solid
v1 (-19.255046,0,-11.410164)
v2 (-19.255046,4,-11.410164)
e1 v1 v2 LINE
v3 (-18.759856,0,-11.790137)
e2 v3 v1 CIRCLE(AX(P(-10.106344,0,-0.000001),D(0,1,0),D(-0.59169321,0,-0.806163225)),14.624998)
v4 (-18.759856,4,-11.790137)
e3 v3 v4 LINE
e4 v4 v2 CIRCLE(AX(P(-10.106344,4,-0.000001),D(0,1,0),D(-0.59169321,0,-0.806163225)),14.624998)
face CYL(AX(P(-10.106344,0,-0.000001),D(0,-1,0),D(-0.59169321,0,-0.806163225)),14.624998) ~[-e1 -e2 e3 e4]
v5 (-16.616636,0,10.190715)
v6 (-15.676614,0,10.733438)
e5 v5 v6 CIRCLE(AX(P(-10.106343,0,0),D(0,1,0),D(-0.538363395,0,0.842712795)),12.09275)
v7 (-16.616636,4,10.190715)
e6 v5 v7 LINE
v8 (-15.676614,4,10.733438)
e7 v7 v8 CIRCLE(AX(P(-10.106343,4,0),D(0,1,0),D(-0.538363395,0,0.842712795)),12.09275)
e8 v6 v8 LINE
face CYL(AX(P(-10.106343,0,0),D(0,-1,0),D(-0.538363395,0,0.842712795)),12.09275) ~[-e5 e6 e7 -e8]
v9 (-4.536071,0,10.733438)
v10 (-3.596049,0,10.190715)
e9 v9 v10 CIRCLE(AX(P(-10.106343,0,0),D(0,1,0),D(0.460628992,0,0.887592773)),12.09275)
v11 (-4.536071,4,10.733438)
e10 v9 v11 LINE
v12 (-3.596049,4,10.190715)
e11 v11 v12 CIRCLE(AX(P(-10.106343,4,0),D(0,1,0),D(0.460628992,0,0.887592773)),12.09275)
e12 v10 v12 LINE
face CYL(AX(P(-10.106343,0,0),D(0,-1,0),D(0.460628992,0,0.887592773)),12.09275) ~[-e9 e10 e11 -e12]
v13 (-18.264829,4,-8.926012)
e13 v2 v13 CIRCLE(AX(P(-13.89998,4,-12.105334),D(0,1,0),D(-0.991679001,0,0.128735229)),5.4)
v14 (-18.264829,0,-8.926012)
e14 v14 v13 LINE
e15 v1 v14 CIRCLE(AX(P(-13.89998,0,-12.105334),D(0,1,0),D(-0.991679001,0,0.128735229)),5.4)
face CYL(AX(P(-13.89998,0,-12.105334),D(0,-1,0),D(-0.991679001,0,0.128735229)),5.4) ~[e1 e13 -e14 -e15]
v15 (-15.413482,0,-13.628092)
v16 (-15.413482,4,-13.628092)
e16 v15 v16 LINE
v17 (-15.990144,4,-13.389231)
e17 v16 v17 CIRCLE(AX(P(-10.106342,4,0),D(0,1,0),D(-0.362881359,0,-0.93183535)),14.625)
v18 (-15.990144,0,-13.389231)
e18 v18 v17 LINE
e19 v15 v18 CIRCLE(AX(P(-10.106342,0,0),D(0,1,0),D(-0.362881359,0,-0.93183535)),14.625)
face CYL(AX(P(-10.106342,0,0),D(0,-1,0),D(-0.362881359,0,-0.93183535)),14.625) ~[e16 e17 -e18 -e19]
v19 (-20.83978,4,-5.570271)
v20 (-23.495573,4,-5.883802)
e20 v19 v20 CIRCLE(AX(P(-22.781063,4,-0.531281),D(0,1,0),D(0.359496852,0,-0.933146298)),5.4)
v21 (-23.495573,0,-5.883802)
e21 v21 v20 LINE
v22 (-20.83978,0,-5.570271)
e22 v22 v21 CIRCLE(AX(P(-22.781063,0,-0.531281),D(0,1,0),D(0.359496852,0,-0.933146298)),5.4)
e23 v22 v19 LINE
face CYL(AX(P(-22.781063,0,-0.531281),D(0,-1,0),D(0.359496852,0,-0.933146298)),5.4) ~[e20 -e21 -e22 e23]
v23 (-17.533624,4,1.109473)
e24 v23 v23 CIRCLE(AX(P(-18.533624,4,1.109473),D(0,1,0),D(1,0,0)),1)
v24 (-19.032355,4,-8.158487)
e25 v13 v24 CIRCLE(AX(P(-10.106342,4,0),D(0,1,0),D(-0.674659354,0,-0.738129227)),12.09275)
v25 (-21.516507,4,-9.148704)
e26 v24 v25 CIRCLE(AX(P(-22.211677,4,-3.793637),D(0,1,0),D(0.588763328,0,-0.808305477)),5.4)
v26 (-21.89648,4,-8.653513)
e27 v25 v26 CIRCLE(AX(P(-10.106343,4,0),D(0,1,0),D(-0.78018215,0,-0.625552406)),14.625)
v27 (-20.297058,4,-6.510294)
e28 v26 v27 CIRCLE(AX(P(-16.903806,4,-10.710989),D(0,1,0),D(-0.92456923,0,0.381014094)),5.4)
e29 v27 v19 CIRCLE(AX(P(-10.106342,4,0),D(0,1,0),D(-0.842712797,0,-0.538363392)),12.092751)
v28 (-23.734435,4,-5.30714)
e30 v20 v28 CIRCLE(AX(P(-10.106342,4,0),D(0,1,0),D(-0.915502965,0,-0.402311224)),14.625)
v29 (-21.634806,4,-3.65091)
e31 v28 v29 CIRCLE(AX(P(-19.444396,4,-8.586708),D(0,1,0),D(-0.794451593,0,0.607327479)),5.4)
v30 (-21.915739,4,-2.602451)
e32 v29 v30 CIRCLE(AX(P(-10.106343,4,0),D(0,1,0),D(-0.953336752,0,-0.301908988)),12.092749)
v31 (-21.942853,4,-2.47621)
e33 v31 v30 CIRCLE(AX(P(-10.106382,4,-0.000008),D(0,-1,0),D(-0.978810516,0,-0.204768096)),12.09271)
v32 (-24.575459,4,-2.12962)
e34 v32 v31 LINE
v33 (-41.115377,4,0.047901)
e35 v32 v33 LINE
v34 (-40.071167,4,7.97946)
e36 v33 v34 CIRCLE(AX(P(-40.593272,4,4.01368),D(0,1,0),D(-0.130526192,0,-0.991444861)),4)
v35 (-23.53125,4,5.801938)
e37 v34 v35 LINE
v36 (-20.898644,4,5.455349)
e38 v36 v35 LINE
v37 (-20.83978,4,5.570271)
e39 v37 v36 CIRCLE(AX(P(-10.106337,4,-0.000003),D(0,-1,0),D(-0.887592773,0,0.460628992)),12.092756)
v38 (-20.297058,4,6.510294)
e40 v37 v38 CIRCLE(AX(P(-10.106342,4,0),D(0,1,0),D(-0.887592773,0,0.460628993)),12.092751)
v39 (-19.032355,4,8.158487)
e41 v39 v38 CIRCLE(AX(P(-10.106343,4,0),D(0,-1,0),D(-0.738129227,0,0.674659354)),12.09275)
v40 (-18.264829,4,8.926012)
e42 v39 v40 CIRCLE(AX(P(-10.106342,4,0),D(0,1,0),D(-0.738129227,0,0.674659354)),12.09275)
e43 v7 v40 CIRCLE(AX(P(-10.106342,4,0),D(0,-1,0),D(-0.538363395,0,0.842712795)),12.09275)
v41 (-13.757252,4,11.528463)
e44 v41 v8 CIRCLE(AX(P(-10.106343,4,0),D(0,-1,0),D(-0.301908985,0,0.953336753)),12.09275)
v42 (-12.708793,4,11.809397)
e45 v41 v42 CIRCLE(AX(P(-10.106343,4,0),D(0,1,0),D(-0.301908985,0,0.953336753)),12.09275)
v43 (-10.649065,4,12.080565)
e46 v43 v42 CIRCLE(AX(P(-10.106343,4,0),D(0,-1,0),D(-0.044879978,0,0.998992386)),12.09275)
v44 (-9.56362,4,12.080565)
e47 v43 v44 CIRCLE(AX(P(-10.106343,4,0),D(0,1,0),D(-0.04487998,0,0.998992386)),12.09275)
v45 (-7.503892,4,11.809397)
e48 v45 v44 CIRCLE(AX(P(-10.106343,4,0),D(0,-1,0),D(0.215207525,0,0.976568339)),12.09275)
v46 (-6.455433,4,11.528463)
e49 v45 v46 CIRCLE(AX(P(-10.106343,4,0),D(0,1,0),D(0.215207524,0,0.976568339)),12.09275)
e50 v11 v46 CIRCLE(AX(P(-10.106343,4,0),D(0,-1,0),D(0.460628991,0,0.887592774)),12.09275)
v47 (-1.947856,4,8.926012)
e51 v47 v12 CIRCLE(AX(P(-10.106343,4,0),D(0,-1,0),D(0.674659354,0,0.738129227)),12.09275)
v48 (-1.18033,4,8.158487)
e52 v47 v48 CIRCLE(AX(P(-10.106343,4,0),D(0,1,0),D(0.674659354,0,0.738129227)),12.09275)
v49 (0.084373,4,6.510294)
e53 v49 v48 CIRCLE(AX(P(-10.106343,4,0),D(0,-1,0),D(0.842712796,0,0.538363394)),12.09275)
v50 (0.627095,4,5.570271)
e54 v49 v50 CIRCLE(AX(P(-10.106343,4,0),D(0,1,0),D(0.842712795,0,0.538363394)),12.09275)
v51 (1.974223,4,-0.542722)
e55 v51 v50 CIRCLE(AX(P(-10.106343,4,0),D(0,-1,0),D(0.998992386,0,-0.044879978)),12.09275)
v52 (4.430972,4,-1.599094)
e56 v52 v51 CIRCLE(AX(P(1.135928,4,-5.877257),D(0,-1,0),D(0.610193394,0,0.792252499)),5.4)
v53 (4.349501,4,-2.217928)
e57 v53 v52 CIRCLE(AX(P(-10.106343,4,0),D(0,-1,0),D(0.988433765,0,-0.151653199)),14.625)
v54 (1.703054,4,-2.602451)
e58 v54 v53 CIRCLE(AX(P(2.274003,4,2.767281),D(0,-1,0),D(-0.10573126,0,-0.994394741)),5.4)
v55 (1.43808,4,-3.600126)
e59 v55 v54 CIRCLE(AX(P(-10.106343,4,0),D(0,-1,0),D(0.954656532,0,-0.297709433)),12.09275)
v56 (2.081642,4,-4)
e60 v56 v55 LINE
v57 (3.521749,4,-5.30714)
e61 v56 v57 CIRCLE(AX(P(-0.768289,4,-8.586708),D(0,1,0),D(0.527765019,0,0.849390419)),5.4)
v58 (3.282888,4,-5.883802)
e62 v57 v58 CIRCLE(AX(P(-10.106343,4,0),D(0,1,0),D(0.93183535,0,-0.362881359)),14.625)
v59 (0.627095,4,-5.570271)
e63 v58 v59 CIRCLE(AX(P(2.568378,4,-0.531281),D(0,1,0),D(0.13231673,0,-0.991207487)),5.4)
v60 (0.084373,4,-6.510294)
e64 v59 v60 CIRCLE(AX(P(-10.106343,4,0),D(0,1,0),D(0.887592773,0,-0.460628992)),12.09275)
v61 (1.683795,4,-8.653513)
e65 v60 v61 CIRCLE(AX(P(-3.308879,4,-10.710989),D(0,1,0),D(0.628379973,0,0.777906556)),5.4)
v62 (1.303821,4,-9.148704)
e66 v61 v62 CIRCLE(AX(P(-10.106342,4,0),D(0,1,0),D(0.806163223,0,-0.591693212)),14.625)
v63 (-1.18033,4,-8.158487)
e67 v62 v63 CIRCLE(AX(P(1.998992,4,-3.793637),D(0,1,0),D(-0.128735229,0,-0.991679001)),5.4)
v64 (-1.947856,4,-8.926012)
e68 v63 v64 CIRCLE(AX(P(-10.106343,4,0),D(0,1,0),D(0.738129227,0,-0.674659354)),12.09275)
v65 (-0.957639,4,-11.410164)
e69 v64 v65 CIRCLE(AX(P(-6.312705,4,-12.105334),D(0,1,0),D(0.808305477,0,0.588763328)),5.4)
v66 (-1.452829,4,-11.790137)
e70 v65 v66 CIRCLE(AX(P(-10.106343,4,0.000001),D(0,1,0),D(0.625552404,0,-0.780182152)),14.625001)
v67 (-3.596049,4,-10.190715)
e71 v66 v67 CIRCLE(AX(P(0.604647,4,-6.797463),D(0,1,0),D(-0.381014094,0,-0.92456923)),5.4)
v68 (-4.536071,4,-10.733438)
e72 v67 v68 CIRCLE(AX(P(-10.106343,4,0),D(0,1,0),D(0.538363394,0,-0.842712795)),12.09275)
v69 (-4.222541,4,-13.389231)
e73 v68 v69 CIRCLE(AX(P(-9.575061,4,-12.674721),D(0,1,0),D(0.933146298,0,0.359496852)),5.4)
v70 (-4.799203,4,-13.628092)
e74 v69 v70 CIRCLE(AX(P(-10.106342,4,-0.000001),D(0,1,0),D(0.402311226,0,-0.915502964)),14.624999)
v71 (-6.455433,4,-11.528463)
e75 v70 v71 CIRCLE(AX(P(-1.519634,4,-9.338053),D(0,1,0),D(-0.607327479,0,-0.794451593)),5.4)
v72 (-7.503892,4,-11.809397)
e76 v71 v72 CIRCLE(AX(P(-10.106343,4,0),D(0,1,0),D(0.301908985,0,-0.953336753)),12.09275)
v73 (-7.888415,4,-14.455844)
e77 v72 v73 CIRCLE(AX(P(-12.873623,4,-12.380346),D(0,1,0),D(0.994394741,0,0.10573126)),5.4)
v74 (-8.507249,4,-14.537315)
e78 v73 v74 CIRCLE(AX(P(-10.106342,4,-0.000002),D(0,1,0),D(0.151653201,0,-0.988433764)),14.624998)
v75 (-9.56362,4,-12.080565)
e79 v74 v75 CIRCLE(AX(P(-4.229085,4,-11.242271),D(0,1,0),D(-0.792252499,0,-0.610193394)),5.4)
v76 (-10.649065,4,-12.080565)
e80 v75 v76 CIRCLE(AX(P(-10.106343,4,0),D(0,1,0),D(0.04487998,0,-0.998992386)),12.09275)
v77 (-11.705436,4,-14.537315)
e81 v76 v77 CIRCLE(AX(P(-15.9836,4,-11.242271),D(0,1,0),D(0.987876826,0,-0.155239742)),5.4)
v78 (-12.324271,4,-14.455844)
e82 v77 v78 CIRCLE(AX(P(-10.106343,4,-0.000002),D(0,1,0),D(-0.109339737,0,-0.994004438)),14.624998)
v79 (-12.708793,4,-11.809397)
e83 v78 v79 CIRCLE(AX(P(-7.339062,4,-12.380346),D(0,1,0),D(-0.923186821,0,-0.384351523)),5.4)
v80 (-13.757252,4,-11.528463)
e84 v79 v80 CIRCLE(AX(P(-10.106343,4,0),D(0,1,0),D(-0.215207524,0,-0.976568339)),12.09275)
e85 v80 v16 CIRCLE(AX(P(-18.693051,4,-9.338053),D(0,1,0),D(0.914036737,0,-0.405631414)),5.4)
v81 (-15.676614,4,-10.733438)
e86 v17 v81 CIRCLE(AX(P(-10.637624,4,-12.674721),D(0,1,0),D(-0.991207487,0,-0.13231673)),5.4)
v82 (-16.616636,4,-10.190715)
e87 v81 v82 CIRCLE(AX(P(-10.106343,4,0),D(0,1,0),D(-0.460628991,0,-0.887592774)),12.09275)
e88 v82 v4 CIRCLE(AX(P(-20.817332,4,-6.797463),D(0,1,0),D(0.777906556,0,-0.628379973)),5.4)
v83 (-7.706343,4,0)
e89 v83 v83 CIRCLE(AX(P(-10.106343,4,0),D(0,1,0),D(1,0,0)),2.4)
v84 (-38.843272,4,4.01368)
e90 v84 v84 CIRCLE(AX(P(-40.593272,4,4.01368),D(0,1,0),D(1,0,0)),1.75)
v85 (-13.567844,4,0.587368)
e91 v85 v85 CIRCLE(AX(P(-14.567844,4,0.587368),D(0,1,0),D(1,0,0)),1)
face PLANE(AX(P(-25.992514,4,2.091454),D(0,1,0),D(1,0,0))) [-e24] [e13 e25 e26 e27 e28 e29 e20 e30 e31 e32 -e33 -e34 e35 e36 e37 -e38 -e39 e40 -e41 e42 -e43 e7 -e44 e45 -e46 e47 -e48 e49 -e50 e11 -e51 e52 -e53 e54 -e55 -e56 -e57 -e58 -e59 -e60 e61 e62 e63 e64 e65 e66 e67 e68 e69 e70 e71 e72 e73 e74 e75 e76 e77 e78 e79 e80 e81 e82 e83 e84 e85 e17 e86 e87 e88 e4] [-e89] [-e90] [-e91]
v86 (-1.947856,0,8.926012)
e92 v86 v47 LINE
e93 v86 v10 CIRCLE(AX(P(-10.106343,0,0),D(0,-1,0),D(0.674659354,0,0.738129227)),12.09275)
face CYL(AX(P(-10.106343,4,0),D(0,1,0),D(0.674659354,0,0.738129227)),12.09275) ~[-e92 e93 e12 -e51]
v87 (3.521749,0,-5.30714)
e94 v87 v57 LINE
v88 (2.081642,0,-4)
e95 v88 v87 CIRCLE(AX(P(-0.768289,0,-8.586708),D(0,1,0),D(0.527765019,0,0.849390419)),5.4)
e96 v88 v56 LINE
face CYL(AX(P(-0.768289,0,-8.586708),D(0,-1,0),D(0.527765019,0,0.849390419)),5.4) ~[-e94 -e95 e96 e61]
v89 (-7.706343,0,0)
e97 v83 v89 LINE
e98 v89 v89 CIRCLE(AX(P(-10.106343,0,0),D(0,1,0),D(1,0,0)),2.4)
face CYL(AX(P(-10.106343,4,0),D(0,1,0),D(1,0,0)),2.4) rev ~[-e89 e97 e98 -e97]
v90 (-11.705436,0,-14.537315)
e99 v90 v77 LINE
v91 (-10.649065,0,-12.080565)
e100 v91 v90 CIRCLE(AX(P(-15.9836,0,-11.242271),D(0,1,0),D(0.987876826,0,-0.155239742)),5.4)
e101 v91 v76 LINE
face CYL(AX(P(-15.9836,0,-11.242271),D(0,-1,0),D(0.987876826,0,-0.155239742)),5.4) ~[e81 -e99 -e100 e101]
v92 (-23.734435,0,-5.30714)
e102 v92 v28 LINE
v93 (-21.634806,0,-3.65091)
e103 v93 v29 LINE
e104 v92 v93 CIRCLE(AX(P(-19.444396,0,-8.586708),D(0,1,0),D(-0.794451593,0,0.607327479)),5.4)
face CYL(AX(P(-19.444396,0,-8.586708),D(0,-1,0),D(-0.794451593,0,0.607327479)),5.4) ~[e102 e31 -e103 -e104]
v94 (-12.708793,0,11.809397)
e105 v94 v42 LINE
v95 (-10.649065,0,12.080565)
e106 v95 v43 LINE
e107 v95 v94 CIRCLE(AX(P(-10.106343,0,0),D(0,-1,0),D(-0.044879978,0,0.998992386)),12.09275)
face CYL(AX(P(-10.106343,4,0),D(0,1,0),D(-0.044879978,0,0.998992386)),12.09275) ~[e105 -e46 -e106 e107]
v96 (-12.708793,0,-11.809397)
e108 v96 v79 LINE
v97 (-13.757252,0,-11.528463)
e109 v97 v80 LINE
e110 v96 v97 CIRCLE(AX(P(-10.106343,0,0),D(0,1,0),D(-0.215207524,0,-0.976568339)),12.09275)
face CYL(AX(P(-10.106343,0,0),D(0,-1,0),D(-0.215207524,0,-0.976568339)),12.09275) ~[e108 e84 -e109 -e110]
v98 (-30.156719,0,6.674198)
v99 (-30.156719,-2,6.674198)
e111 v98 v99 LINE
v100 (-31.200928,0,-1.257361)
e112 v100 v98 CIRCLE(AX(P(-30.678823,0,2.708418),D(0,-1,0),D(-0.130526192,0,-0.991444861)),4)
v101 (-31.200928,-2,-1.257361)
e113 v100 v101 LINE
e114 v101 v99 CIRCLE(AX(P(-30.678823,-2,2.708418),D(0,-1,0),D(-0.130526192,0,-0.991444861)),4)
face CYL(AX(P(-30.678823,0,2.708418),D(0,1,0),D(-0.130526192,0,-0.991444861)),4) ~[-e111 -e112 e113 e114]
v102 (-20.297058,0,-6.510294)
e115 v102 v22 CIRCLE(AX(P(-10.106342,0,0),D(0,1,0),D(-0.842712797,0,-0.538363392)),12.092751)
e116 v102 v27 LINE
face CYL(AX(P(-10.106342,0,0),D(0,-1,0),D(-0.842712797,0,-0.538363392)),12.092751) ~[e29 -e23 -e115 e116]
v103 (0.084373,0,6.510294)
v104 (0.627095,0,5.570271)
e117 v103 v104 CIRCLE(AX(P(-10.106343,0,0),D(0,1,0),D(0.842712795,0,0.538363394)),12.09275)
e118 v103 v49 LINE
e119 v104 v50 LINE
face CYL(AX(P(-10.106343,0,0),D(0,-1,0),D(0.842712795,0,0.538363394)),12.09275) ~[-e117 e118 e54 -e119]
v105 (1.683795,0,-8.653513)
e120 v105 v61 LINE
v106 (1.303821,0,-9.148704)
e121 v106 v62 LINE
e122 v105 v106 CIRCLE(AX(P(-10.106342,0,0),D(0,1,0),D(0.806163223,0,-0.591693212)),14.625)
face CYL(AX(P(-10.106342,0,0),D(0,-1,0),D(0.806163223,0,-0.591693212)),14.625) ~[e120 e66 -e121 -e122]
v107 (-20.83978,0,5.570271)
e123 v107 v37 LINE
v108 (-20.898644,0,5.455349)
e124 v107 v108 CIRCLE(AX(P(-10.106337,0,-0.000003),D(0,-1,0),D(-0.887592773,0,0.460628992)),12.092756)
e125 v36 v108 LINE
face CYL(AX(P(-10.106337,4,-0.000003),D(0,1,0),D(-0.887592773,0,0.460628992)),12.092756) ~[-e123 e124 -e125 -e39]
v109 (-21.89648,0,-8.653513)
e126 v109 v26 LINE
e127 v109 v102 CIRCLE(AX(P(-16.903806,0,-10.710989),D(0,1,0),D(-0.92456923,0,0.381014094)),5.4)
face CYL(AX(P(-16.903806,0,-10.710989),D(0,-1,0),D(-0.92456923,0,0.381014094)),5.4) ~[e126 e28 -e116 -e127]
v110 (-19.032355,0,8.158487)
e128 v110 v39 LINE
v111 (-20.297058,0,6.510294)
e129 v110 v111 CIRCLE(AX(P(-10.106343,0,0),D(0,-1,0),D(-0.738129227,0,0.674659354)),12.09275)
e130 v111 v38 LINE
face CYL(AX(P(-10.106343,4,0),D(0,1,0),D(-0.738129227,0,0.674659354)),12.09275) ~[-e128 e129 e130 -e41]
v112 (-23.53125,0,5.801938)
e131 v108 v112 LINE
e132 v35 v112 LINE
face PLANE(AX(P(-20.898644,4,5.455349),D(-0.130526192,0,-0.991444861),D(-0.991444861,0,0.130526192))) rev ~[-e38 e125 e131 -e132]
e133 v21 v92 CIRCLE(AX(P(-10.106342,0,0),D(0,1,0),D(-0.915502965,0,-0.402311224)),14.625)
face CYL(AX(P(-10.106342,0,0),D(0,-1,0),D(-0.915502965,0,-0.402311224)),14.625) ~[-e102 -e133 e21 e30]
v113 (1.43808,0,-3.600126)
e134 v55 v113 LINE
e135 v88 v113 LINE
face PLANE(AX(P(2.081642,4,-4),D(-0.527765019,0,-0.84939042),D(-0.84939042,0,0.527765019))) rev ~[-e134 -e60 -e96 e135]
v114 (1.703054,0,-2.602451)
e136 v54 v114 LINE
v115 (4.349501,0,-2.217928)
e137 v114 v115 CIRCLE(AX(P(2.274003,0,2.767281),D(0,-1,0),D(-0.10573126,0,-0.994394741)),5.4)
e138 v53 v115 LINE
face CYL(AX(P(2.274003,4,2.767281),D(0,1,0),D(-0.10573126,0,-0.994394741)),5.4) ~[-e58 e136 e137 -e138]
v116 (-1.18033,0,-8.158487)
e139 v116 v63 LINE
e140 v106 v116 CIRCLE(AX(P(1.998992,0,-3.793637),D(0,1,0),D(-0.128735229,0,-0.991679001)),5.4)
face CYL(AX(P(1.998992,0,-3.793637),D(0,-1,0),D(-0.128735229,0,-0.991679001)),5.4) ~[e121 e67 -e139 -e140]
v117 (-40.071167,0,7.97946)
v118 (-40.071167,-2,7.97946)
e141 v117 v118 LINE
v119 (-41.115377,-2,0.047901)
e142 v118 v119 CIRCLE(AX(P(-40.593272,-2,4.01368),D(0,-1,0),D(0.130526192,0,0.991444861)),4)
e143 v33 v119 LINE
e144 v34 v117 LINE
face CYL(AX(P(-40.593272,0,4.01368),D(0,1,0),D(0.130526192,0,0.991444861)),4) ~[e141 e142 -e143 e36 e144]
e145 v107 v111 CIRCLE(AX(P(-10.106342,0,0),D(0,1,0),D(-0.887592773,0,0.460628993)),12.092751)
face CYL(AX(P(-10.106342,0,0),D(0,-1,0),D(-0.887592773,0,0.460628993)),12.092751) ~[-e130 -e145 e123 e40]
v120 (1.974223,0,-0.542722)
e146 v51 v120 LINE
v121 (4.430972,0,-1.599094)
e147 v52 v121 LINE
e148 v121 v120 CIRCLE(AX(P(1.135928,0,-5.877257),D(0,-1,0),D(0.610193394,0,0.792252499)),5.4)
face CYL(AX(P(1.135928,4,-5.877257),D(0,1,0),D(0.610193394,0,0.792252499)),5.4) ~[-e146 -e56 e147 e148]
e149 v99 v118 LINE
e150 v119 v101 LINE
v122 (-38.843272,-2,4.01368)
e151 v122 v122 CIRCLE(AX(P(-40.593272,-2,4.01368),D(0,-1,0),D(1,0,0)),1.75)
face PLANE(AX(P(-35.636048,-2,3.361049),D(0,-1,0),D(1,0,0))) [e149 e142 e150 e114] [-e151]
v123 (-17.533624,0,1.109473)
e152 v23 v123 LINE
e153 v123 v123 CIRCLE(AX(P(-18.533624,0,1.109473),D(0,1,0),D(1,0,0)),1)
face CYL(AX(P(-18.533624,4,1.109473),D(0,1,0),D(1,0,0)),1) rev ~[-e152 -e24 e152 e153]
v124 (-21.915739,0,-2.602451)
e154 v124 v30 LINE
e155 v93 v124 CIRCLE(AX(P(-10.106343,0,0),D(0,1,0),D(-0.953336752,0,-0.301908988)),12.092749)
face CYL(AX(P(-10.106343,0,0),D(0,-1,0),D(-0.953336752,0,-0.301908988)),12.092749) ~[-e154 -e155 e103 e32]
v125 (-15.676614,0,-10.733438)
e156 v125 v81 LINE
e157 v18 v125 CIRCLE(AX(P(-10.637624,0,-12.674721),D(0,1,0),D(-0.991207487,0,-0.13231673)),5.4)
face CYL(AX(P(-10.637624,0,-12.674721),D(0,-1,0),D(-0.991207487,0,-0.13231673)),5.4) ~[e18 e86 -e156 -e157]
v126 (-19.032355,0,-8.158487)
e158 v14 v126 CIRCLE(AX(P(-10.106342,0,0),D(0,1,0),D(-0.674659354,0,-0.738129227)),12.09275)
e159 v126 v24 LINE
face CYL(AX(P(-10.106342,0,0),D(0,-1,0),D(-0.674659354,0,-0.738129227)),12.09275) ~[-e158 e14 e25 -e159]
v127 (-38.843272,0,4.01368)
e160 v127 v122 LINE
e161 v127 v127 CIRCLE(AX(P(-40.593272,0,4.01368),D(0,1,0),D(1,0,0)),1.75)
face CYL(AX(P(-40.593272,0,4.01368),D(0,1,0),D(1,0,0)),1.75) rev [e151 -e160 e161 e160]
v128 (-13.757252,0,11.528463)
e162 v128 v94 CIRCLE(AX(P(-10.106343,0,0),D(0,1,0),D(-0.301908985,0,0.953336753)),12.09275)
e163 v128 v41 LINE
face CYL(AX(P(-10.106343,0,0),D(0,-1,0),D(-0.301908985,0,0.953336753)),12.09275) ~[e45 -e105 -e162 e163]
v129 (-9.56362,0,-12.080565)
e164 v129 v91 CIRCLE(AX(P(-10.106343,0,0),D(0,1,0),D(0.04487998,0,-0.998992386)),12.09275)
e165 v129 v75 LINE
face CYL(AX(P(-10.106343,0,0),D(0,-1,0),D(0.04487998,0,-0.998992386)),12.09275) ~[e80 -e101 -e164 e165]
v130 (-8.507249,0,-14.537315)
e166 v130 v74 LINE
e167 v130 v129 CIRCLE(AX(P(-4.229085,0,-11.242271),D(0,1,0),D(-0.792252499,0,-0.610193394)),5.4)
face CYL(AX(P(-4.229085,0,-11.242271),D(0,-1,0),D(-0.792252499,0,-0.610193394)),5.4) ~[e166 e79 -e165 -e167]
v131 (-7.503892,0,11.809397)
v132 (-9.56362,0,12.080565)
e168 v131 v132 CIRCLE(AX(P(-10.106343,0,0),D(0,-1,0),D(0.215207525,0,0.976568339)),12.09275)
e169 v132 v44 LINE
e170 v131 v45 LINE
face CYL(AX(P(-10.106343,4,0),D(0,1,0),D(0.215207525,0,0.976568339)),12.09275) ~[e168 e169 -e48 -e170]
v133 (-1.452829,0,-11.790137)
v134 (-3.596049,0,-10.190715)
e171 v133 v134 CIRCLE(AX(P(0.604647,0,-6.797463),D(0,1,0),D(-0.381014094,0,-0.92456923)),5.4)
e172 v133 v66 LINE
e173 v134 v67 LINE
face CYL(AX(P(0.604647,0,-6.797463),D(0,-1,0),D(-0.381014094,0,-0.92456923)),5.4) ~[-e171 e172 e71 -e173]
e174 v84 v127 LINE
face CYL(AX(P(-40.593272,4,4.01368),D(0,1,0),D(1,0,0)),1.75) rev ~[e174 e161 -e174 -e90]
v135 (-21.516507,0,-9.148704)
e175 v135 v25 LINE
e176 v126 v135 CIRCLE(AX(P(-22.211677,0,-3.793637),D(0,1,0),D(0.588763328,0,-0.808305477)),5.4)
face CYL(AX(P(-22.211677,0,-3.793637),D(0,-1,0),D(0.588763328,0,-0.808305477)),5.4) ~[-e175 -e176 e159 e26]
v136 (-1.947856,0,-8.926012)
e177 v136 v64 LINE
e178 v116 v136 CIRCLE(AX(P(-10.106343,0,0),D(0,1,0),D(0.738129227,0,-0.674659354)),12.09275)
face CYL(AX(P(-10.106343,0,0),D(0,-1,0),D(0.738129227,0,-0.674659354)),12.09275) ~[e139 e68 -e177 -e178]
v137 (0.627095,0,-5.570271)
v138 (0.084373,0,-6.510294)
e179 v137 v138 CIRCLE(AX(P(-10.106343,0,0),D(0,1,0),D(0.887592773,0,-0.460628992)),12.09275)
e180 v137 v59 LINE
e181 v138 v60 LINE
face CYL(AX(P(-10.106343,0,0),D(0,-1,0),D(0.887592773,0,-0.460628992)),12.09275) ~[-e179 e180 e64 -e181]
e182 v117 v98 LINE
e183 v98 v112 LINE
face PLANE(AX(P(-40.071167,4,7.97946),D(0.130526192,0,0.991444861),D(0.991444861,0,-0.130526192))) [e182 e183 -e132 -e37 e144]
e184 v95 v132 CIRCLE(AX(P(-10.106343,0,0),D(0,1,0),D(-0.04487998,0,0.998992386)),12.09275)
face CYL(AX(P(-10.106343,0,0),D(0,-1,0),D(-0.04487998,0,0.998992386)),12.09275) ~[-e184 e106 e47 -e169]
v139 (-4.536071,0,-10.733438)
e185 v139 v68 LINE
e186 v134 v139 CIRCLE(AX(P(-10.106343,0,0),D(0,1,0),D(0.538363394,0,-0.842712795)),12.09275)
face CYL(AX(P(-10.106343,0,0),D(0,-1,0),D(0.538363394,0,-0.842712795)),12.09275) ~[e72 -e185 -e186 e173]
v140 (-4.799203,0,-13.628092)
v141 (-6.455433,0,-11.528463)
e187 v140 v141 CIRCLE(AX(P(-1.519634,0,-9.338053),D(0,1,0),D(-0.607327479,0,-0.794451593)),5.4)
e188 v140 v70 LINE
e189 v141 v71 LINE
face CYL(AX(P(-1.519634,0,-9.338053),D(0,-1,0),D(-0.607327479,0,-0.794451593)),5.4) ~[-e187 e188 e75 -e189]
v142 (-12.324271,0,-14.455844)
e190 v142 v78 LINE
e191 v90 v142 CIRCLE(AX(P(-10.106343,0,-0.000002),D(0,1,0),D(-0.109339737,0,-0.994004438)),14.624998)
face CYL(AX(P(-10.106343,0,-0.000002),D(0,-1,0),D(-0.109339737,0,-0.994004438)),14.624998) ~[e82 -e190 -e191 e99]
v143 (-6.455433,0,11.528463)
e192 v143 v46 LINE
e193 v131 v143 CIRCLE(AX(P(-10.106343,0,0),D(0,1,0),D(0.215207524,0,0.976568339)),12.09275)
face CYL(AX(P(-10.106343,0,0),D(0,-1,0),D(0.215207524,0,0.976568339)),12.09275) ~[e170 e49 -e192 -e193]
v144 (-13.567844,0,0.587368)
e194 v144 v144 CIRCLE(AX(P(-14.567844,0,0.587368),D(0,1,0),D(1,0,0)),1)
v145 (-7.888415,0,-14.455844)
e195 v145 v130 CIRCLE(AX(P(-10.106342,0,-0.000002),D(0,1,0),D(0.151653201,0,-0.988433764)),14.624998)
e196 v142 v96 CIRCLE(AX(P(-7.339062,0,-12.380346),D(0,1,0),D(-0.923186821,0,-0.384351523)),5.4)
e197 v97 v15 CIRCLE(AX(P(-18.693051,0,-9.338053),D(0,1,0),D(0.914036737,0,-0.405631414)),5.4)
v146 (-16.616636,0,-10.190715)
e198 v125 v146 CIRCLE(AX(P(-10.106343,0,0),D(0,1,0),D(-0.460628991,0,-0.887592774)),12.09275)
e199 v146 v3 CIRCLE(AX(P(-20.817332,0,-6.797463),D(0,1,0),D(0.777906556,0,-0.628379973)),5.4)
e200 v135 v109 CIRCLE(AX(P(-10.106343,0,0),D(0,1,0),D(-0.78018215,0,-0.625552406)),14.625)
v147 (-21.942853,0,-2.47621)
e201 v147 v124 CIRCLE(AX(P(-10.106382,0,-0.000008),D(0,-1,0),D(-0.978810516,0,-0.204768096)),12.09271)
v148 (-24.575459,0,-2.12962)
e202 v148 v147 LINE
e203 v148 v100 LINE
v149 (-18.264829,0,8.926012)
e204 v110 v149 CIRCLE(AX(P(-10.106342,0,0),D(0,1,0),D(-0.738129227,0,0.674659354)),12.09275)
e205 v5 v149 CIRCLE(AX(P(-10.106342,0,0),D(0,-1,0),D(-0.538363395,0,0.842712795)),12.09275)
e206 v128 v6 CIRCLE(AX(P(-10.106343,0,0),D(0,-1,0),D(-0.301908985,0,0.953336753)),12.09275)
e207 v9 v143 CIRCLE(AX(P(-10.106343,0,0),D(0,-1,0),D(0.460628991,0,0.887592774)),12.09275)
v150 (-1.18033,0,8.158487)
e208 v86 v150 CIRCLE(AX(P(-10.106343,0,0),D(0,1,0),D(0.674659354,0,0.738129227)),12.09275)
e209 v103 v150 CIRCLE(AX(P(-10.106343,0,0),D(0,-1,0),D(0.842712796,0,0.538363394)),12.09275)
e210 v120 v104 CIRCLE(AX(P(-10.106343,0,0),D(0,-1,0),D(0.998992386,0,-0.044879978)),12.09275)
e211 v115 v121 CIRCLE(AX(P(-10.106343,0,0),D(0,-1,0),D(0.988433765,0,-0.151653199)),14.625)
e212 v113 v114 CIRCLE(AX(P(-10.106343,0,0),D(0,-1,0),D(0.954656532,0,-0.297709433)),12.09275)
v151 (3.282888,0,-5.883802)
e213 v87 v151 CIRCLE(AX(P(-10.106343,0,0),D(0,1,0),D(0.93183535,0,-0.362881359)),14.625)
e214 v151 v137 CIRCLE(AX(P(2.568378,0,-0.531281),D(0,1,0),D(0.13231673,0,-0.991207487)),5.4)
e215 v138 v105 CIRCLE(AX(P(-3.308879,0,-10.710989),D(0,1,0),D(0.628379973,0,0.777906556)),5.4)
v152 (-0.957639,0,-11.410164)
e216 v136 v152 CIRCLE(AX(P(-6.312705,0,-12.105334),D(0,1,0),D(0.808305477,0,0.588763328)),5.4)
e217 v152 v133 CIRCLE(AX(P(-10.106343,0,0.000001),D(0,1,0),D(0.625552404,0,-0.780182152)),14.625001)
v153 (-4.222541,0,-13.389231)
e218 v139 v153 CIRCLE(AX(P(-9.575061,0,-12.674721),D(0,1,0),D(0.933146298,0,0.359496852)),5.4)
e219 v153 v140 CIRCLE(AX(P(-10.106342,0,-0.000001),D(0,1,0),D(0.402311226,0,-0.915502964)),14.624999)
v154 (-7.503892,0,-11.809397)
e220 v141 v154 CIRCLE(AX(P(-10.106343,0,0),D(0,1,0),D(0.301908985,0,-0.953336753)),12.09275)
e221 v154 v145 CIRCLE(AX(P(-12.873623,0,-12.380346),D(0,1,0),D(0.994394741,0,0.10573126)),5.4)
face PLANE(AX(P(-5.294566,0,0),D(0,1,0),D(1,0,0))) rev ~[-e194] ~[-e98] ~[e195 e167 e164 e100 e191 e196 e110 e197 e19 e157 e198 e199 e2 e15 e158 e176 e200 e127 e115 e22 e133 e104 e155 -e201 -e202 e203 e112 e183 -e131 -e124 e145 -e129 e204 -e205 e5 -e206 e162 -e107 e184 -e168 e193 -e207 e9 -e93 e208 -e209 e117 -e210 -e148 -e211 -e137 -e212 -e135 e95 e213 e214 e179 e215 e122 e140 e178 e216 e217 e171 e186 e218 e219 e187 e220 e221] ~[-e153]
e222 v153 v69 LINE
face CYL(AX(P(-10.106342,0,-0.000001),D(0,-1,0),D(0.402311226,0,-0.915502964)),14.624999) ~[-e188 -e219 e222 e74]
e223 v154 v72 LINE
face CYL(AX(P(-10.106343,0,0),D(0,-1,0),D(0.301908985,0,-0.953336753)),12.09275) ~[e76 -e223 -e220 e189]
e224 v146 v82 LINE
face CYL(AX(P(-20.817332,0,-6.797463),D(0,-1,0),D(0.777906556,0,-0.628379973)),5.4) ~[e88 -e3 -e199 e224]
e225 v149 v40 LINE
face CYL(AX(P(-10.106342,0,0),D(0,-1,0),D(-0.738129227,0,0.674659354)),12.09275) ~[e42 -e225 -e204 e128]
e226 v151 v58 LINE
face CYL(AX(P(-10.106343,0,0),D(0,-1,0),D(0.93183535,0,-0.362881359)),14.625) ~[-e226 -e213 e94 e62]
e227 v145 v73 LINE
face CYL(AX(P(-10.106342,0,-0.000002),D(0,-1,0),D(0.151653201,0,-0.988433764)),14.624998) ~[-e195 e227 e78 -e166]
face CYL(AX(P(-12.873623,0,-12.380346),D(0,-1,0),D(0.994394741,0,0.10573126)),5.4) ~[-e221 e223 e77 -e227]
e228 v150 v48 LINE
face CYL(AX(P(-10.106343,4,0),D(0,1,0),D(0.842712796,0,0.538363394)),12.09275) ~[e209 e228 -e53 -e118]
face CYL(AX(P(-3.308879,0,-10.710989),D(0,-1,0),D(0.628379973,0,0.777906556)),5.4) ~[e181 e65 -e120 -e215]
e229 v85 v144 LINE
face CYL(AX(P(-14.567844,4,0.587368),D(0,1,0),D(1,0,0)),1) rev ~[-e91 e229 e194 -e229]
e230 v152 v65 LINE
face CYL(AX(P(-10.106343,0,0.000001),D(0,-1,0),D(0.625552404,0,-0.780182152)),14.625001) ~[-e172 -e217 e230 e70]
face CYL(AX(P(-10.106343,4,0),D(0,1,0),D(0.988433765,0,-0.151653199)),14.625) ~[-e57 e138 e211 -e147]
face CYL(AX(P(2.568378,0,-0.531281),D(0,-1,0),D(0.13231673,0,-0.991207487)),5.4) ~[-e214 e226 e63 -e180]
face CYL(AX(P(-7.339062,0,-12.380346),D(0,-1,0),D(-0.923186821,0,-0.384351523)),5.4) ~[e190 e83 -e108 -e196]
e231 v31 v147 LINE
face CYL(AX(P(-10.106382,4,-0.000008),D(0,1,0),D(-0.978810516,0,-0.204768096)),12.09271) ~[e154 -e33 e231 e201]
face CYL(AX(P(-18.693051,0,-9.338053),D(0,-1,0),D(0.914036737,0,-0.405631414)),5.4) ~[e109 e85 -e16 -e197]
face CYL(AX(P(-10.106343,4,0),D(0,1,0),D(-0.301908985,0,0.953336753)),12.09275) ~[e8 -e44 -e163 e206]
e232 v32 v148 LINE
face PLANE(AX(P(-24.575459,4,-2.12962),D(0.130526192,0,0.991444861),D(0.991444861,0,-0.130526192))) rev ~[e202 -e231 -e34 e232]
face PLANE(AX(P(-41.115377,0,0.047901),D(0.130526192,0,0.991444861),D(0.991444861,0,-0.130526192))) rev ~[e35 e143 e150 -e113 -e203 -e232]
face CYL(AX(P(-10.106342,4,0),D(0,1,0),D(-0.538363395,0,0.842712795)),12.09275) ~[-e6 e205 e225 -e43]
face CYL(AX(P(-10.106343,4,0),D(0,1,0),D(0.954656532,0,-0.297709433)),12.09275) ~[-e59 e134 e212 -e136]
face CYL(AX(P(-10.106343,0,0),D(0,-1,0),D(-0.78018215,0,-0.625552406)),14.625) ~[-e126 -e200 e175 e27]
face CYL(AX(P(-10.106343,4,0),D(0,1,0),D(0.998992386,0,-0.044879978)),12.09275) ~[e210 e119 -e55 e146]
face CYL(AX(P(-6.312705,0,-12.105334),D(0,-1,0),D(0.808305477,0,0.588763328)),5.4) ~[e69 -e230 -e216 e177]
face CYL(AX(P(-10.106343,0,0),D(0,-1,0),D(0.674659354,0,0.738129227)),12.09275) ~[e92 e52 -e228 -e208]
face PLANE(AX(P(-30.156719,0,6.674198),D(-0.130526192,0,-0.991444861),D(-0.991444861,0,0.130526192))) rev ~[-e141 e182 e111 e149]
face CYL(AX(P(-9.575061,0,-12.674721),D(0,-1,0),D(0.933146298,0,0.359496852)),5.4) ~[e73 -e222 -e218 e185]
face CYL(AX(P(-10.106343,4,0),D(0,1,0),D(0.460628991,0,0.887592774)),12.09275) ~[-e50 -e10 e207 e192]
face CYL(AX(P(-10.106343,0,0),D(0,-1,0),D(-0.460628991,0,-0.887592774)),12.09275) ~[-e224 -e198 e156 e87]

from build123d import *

# Parameters (mm, degrees)
SKETCH1_R           = 1.5
BOSS_EXTRUDE1_DEPTH = 4
SKETCH3_R           = 1.75
BOSS_EXTRUDE2_DEPTH = 4
CUT_EXTRUDE1_DEPTH  = 4
CUT_EXTRUDE2_REACH  = 6
SKETCH5_R           = 2.4
SKETCH5_R_2         = 1
SKETCH8_R           = 1.75
BOSS_EXTRUDE3_DEPTH = 2


with BuildPart() as part:
    # Sketch1 → Boss-Extrude1 (new body)
    with BuildSketch(Plane(origin=(0, 0, 0), x_dir=(1, 0, 0), z_dir=(0, 1, 0))):
        with BuildLine():
            Line((20.643657446, 4), (2.081641936, 4))
            ThreePointArc((2.081641936, 4), (2.861028333, 4.588201733), (3.521749436, 5.30713988))
            ThreePointArc((3.521749436, 5.30713988), (3.405395609, 5.596745198), (3.282888305, 5.883801663))
            ThreePointArc((3.282888305, 5.883801663), (1.93527598, 5.894040025), (0.627094961, 5.57027124))
            ThreePointArc((0.627094961, 5.57027124), (0.366286148, 6.046375), (0.084372603, 6.510293938))
            ThreePointArc((0.084372603, 6.510293938), (1.018855105, 7.48132754), (1.683794586, 8.65351323))
            ThreePointArc((1.683794586, 8.65351323), (1.496450048, 8.903135899), (1.303821399, 9.148703928))
            ThreePointArc((1.303821399, 9.148703928), (-0.000522033, 8.809805691), (-1.180330337, 8.158486898))
            ThreePointArc((-1.180330337, 8.158486898), (-1.555477026, 8.550865528), (-1.947855656, 8.926012217))
            ThreePointArc((-1.947855656, 8.926012217), (-1.296536862, 10.105820521), (-0.957638625, 11.410163953))
            ThreePointArc((-0.957638625, 11.410163953), (-1.203206655, 11.602792602), (-1.452829324, 11.79013714))
            ThreePointArc((-1.452829324, 11.79013714), (-2.625015014, 11.125197659), (-3.596048616, 10.190715157))
            ThreePointArc((-3.596048616, 10.190715157), (-4.059967554, 10.472628702), (-4.536071314, 10.733437515))
            ThreePointArc((-4.536071314, 10.733437515), (-4.212302529, 12.041618533), (-4.222540891, 13.389230859))
            ThreePointArc((-4.222540891, 13.389230859), (-4.509597355, 13.511738163), (-4.799202674, 13.62809199))
            ThreePointArc((-4.799202674, 13.62809199), (-5.759348103, 12.682425791), (-6.455432668, 11.528463019))
            ThreePointArc((-6.455432668, 11.528463019), (-6.976508546, 11.680699536), (-7.503891752, 11.809396783))
            ThreePointArc((-7.503891752, 11.809396783), (-7.529737283, 13.156800143), (-7.888414517, 14.455843809))
            ThreePointArc((-7.888414517, 14.455843809), (-8.197396993, 14.499881098), (-8.507248835, 14.537314892))
            ThreePointArc((-8.507248835, 14.537314892), (-9.18992168, 13.375367565), (-9.563620196, 12.080565177))
            ThreePointArc((-9.563620196, 12.080565177), (-10.106342554, 12.09275), (-10.649064912, 12.080565177))
            ThreePointArc((-10.649064912, 12.080565177), (-11.022763428, 13.375367565), (-11.705436272, 14.537314892))
            ThreePointArc((-11.705436272, 14.537314892), (-12.015288115, 14.499881098), (-12.324270591, 14.455843809))
            ThreePointArc((-12.324270591, 14.455843809), (-12.682947825, 13.156800143), (-12.708793355, 11.809396783))
            ThreePointArc((-12.708793355, 11.809396783), (-13.236176561, 11.680699536), (-13.757252439, 11.528463019))
            ThreePointArc((-13.757252439, 11.528463019), (-14.453337005, 12.682425791), (-15.413482434, 13.62809199))
            ThreePointArc((-15.413482434, 13.62809199), (-15.703087752, 13.511738163), (-15.990144217, 13.389230859))
            ThreePointArc((-15.990144217, 13.389230859), (-16.000382579, 12.041618533), (-15.676613793, 10.733437515))
            ThreePointArc((-15.676613793, 10.733437515), (-16.152717554, 10.472628702), (-16.616636492, 10.190715157))
            ThreePointArc((-16.616636492, 10.190715157), (-17.587670094, 11.125197659), (-18.759855783, 11.79013714))
            ThreePointArc((-18.759855783, 11.79013714), (-19.009478453, 11.602792602), (-19.255046482, 11.410163953))
            ThreePointArc((-19.255046482, 11.410163953), (-18.916148245, 10.105820521), (-18.264829452, 8.926012217))
            ThreePointArc((-18.264829452, 8.926012217), (-18.657208082, 8.550865528), (-19.032354771, 8.158486898))
            ThreePointArc((-19.032354771, 8.158486898), (-20.212163074, 8.809805691), (-21.516506507, 9.148703928))
            ThreePointArc((-21.516506507, 9.148703928), (-21.709135156, 8.903135899), (-21.896479694, 8.65351323))
            ThreePointArc((-21.896479694, 8.65351323), (-21.231540213, 7.48132754), (-20.297057711, 6.510293938))
            ThreePointArc((-20.297057711, 6.510293938), (-20.578971255, 6.046375), (-20.839780068, 5.57027124))
            ThreePointArc((-20.839780068, 5.57027124), (-22.147961087, 5.894040025), (-23.495573413, 5.883801663))
            ThreePointArc((-23.495573413, 5.883801663), (-23.618080717, 5.596745198), (-23.734434544, 5.30713988))
            ThreePointArc((-23.734434544, 5.30713988), (-22.788768345, 4.346994451), (-21.634805572, 3.650909885))
            ThreePointArc((-21.634805572, 3.650909885), (-21.78704209, 3.129834008), (-21.915739337, 2.602450802))
            ThreePointArc((-21.915739337, 2.602450802), (-23.263142697, 2.576605271), (-24.562186363, 2.217928037))
            ThreePointArc((-24.562186363, 2.217928037), (-24.606223651, 1.908945561), (-24.643657446, 1.599093719))
            ThreePointArc((-24.643657446, 1.599093719), (-23.481710119, 0.916420874), (-22.186907731, 0.542722358))
            ThreePointArc((-22.186907731, 0.542722358), (-22.199092554, 0), (-22.186907731, -0.542722358))
            ThreePointArc((-22.186907731, -0.542722358), (-23.481710119, -0.916420874), (-24.643657446, -1.599093719))
            ThreePointArc((-24.643657446, -1.599093719), (-24.606223651, -1.908945561), (-24.562186363, -2.217928037))
            ThreePointArc((-24.562186363, -2.217928037), (-23.263142697, -2.576605271), (-21.915739337, -2.602450802))
            ThreePointArc((-21.915739337, -2.602450802), (-21.78704209, -3.129834008), (-21.634805572, -3.650909885))
            ThreePointArc((-21.634805572, -3.650909885), (-22.788768345, -4.346994451), (-23.734434544, -5.30713988))
            ThreePointArc((-23.734434544, -5.30713988), (-23.618080717, -5.596745198), (-23.495573413, -5.883801663))
            ThreePointArc((-23.495573413, -5.883801663), (-22.147961087, -5.894040025), (-20.839780068, -5.57027124))
            ThreePointArc((-20.839780068, -5.57027124), (-20.578971255, -6.046375), (-20.297057711, -6.510293938))
            ThreePointArc((-20.297057711, -6.510293938), (-21.231540213, -7.48132754), (-21.896479694, -8.65351323))
            ThreePointArc((-21.896479694, -8.65351323), (-21.709135156, -8.903135899), (-21.516506507, -9.148703928))
            ThreePointArc((-21.516506507, -9.148703928), (-20.212163074, -8.809805691), (-19.032354771, -8.158486898))
            ThreePointArc((-19.032354771, -8.158486898), (-18.657208082, -8.550865528), (-18.264829452, -8.926012217))
            ThreePointArc((-18.264829452, -8.926012217), (-18.916148245, -10.105820521), (-19.255046482, -11.410163953))
            ThreePointArc((-19.255046482, -11.410163953), (-19.009478453, -11.602792602), (-18.759855783, -11.79013714))
            ThreePointArc((-18.759855783, -11.79013714), (-17.587670094, -11.125197659), (-16.616636492, -10.190715157))
            ThreePointArc((-16.616636492, -10.190715157), (-16.152717554, -10.472628702), (-15.676613793, -10.733437515))
            ThreePointArc((-15.676613793, -10.733437515), (-16.000382579, -12.041618533), (-15.990144217, -13.389230859))
            ThreePointArc((-15.990144217, -13.389230859), (-15.703087752, -13.511738163), (-15.413482434, -13.62809199))
            ThreePointArc((-15.413482434, -13.62809199), (-14.453337005, -12.682425791), (-13.757252439, -11.528463019))
            ThreePointArc((-13.757252439, -11.528463019), (-13.236176561, -11.680699536), (-12.708793355, -11.809396783))
            ThreePointArc((-12.708793355, -11.809396783), (-12.682947825, -13.156800143), (-12.324270591, -14.455843809))
            ThreePointArc((-12.324270591, -14.455843809), (-12.015288115, -14.499881098), (-11.705436272, -14.537314892))
            ThreePointArc((-11.705436272, -14.537314892), (-11.022763428, -13.375367565), (-10.649064912, -12.080565177))
            ThreePointArc((-10.649064912, -12.080565177), (-10.106342554, -12.09275), (-9.563620196, -12.080565177))
            ThreePointArc((-9.563620196, -12.080565177), (-9.18992168, -13.375367565), (-8.507248835, -14.537314892))
            ThreePointArc((-8.507248835, -14.537314892), (-8.197396993, -14.499881098), (-7.888414517, -14.455843809))
            ThreePointArc((-7.888414517, -14.455843809), (-7.529737283, -13.156800143), (-7.503891752, -11.809396783))
            ThreePointArc((-7.503891752, -11.809396783), (-6.976508546, -11.680699536), (-6.455432668, -11.528463019))
            ThreePointArc((-6.455432668, -11.528463019), (-5.759348103, -12.682425791), (-4.799202674, -13.62809199))
            ThreePointArc((-4.799202674, -13.62809199), (-4.509597355, -13.511738163), (-4.222540891, -13.389230859))
            ThreePointArc((-4.222540891, -13.389230859), (-4.212302529, -12.041618533), (-4.536071314, -10.733437515))
            ThreePointArc((-4.536071314, -10.733437515), (-4.059967554, -10.472628702), (-3.596048616, -10.190715157))
            ThreePointArc((-3.596048616, -10.190715157), (-2.625015014, -11.125197659), (-1.452829324, -11.79013714))
            ThreePointArc((-1.452829324, -11.79013714), (-1.203206655, -11.602792602), (-0.957638625, -11.410163953))
            ThreePointArc((-0.957638625, -11.410163953), (-1.296536862, -10.105820521), (-1.947855656, -8.926012217))
            ThreePointArc((-1.947855656, -8.926012217), (-1.555477026, -8.550865528), (-1.180330337, -8.158486898))
            ThreePointArc((-1.180330337, -8.158486898), (-0.000522033, -8.809805691), (1.303821399, -9.148703928))
            ThreePointArc((1.303821399, -9.148703928), (1.496450048, -8.903135899), (1.683794586, -8.65351323))
            ThreePointArc((1.683794586, -8.65351323), (1.018855105, -7.48132754), (0.084372603, -6.510293938))
            ThreePointArc((0.084372603, -6.510293938), (0.366286148, -6.046375), (0.627094961, -5.57027124))
            ThreePointArc((0.627094961, -5.57027124), (1.93527598, -5.894040025), (3.282888305, -5.883801663))
            ThreePointArc((3.282888305, -5.883801663), (3.405395609, -5.596745198), (3.521749436, -5.30713988))
            ThreePointArc((3.521749436, -5.30713988), (2.861028333, -4.588201733), (2.081641936, -4))
            Line((2.081641936, -4), (20.643657446, -4))
            ThreePointArc((20.643657446, -4), (24.643657446, 0), (20.643657446, 4))
        make_face()
        with Locations((-10.106342554, 0)):
            Circle(SKETCH1_R, mode=Mode.SUBTRACT)
        with Locations((20.643657446, 0)):
            Circle(SKETCH1_R, mode=Mode.SUBTRACT)
    extrude(amount=BOSS_EXTRUDE1_DEPTH)

    # Sketch3 → Boss-Extrude2 (add)
    with BuildSketch(Plane(origin=(0, 4, 0), x_dir=(1, 0, 0), z_dir=(0, 1, 0))):
        with BuildLine():
            ThreePointArc((-9.584237785, -3.965779445), (-14.072121999, -0.522104769), (-10.628447323, 3.965779445))
            Line((-10.628447323, 3.965779445), (-41.11537681, -0.047900965))
            ThreePointArc((-41.11537681, -0.047900965), (-44.559051487, -4.53578518), (-40.071167272, -7.979459856))
            Line((-40.071167272, -7.979459856), (-9.584237785, -3.965779445))
        make_face()
        with Locations((-40.593272041, -4.013680411)):
            Circle(SKETCH3_R, mode=Mode.SUBTRACT)
    extrude(amount=-BOSS_EXTRUDE2_DEPTH)

    # Sketch4 → Cut-Extrude1 (cut)
    with BuildSketch(Plane(origin=(0, 4, 0), x_dir=(1, 0, 0), z_dir=(0, 1, 0))):
        with BuildLine():
            ThreePointArc((20.643657446, -4), (24.643657446, 0), (20.643657446, 4))
            Line((20.643657446, 4), (2.081641936, 4))
            Line((2.081641936, 4), (1.43808022, 3.600125745))
            ThreePointArc((1.43808022, 3.600125745), (1.581217534, 3.104116905), (1.70305423, 2.602450802))
            ThreePointArc((1.70305423, 2.602450802), (3.050457589, 2.576605271), (4.349501255, 2.217928037))
            ThreePointArc((4.349501255, 2.217928037), (4.393538544, 1.908945561), (4.430972339, 1.599093719))
            ThreePointArc((4.430972339, 1.599093719), (3.269025011, 0.916420874), (1.974222624, 0.542722358))
            ThreePointArc((1.974222624, 0.542722358), (1.70305423, -2.602450802), (0.627094961, -5.57027124))
            ThreePointArc((0.627094961, -5.57027124), (1.93527598, -5.894040025), (3.282888305, -5.883801663))
            ThreePointArc((3.282888305, -5.883801663), (3.405395609, -5.596745198), (3.521749436, -5.30713988))
            ThreePointArc((3.521749436, -5.30713988), (2.861028333, -4.588201733), (2.081641936, -4))
            Line((2.081641936, -4), (20.643657446, -4))
        make_face()
        with BuildLine():
            ThreePointArc((1.683794586, -8.65351323), (1.018855105, -7.48132754), (0.084372603, -6.510293938))
            ThreePointArc((0.084372603, -6.510293938), (-0.512518948, -7.361599771), (-1.180330337, -8.158486898))
            ThreePointArc((-1.180330337, -8.158486898), (-0.000522033, -8.809805691), (1.303821399, -9.148703928))
            ThreePointArc((1.303821399, -9.148703928), (1.496450048, -8.903135899), (1.683794586, -8.65351323))
        make_face()
        with BuildLine():
            ThreePointArc((-0.957638625, -11.410163953), (-1.296536862, -10.105820521), (-1.947855656, -8.926012217))
            ThreePointArc((-1.947855656, -8.926012217), (-2.744742783, -9.593823606), (-3.596048616, -10.190715157))
            ThreePointArc((-3.596048616, -10.190715157), (-2.625015014, -11.125197659), (-1.452829324, -11.79013714))
            ThreePointArc((-1.452829324, -11.79013714), (-1.203206655, -11.602792602), (-0.957638625, -11.410163953))
        make_face()
        with BuildLine():
            ThreePointArc((-4.222540891, -13.389230859), (-4.212302529, -12.041618533), (-4.536071314, -10.733437515))
            ThreePointArc((-4.536071314, -10.733437515), (-5.478647477, -11.172244217), (-6.455432668, -11.528463019))
            ThreePointArc((-6.455432668, -11.528463019), (-5.759348103, -12.682425791), (-4.799202674, -13.62809199))
            ThreePointArc((-4.799202674, -13.62809199), (-4.509597355, -13.511738163), (-4.222540891, -13.389230859))
        make_face()
        with BuildLine():
            ThreePointArc((-7.888414517, -14.455843809), (-7.529737283, -13.156800143), (-7.503891752, -11.809396783))
            ThreePointArc((-7.503891752, -11.809396783), (-8.527921943, -11.989294847), (-9.563620196, -12.080565177))
            ThreePointArc((-9.563620196, -12.080565177), (-9.18992168, -13.375367565), (-8.507248835, -14.537314892))
            ThreePointArc((-8.507248835, -14.537314892), (-8.197396993, -14.499881098), (-7.888414517, -14.455843809))
        make_face()
        with BuildLine():
            ThreePointArc((-11.705436272, -14.537314892), (-11.022763428, -13.375367565), (-10.649064912, -12.080565177))
            ThreePointArc((-10.649064912, -12.080565177), (-11.684763165, -11.989294847), (-12.708793355, -11.809396783))
            ThreePointArc((-12.708793355, -11.809396783), (-12.682947825, -13.156800143), (-12.324270591, -14.455843809))
            ThreePointArc((-12.324270591, -14.455843809), (-12.015288115, -14.499881098), (-11.705436272, -14.537314892))
        make_face()
        with BuildLine():
            ThreePointArc((-15.413482434, -13.62809199), (-14.453337005, -12.682425791), (-13.757252439, -11.528463019))
            ThreePointArc((-13.757252439, -11.528463019), (-14.734037631, -11.172244217), (-15.676613793, -10.733437515))
            ThreePointArc((-15.676613793, -10.733437515), (-16.000382579, -12.041618533), (-15.990144217, -13.389230859))
            ThreePointArc((-15.990144217, -13.389230859), (-15.703087752, -13.511738163), (-15.413482434, -13.62809199))
        make_face()
        with BuildLine():
            ThreePointArc((-18.759855783, -11.79013714), (-17.587670094, -11.125197659), (-16.616636492, -10.190715157))
            ThreePointArc((-16.616636492, -10.190715157), (-17.467942324, -9.593823606), (-18.264829452, -8.926012217))
            ThreePointArc((-18.264829452, -8.926012217), (-18.916148245, -10.105820521), (-19.255046482, -11.410163953))
            ThreePointArc((-19.255046482, -11.410163953), (-19.009478453, -11.602792602), (-18.759855783, -11.79013714))
        make_face()
        with BuildLine():
            ThreePointArc((-21.516506507, -9.148703928), (-20.212163074, -8.809805691), (-19.032354771, -8.158486898))
            ThreePointArc((-19.032354771, -8.158486898), (-19.70016616, -7.361599771), (-20.297057711, -6.510293938))
            ThreePointArc((-20.297057711, -6.510293938), (-21.231540213, -7.48132754), (-21.896479694, -8.65351323))
            ThreePointArc((-21.896479694, -8.65351323), (-21.709135156, -8.903135899), (-21.516506507, -9.148703928))
        make_face()
        with BuildLine():
            ThreePointArc((-21.942853375, 2.47620963), (-21.92946485, 2.539366405), (-21.915739337, 2.602450802))
            ThreePointArc((-21.915739337, 2.602450802), (-23.263142697, 2.576605271), (-24.562186363, 2.217928037))
            ThreePointArc((-24.562186363, 2.217928037), (-24.56889027, 2.173784387), (-24.575459377, 2.129620475))
            Line((-24.575459377, 2.129620475), (-21.942853375, 2.47620963))
        make_face()
        with BuildLine():
            ThreePointArc((-23.495573413, -5.883801663), (-22.147961087, -5.894040025), (-20.839780068, -5.57027124))
            ThreePointArc((-20.839780068, -5.57027124), (-20.869365339, -5.512888815), (-20.898643838, -5.455349261))
            Line((-20.898643838, -5.455349261), (-23.531249839, -5.801938416))
            ThreePointArc((-23.531249839, -5.801938416), (-23.513474108, -5.842897269), (-23.495573413, -5.883801663))
        make_face()
    extrude(amount=-CUT_EXTRUDE1_DEPTH, mode=Mode.SUBTRACT)

    # Sketch5 → Cut-Extrude2 (cut, up to next)
    with BuildSketch(Plane(origin=(0, 4, 0), x_dir=(1, 0, 0), z_dir=(0, 1, 0)), mode=Mode.PRIVATE) as cut_extrude2_sk1:
        with Locations((-10.106342554, 0)):
            Circle(SKETCH5_R)
    cut_extrude2_tool1 = extrude(cut_extrude2_sk1.sketch, amount=-CUT_EXTRUDE2_REACH, mode=Mode.PRIVATE) & part.part
    add(cut_extrude2_tool1.solids().sort_by_distance((-10.106343, 4, 0))[0], mode=Mode.SUBTRACT)
    # Sketch5 → Cut-Extrude2 (cut, up to next)
    with BuildSketch(Plane(origin=(0, 4, 0), x_dir=(1, 0, 0), z_dir=(0, 1, 0)), mode=Mode.PRIVATE) as cut_extrude2_sk2:
        with Locations((-14.56784443, -0.587367865)):
            Circle(SKETCH5_R_2)
    cut_extrude2_tool2 = extrude(cut_extrude2_sk2.sketch, amount=-CUT_EXTRUDE2_REACH, mode=Mode.PRIVATE) & part.part
    add(cut_extrude2_tool2.solids().sort_by_distance((-14.567844, 4, 0.587368))[0], mode=Mode.SUBTRACT)
    # Sketch5 → Cut-Extrude2 (cut, up to next)
    with BuildSketch(Plane(origin=(0, 4, 0), x_dir=(1, 0, 0), z_dir=(0, 1, 0)), mode=Mode.PRIVATE) as cut_extrude2_sk3:
        with Locations((-18.533623876, -1.109472634)):
            Circle(SKETCH5_R_2)
    cut_extrude2_tool3 = extrude(cut_extrude2_sk3.sketch, amount=-CUT_EXTRUDE2_REACH, mode=Mode.PRIVATE) & part.part
    add(cut_extrude2_tool3.solids().sort_by_distance((-18.533624, 4, 1.109473))[0], mode=Mode.SUBTRACT)

    # Sketch8 → Boss-Extrude3 (add)
    with BuildSketch(Plane.XZ):
        with BuildLine():
            Line((-30.156718658, 6.674197934), (-40.071167272, 7.979459856))
            ThreePointArc((-40.071167272, 7.979459856), (-44.559051487, 4.53578518), (-41.11537681, 0.047900965))
            Line((-41.11537681, 0.047900965), (-31.200928196, -1.257360957))
            ThreePointArc((-31.200928196, -1.257360957), (-26.713043982, 2.18631372), (-30.156718658, 6.674197934))
        make_face()
        with Locations((-40.593272041, 4.013680411)):
            Circle(SKETCH8_R, mode=Mode.SUBTRACT)
    extrude(amount=BOSS_EXTRUDE3_DEPTH)


solid = part.part
